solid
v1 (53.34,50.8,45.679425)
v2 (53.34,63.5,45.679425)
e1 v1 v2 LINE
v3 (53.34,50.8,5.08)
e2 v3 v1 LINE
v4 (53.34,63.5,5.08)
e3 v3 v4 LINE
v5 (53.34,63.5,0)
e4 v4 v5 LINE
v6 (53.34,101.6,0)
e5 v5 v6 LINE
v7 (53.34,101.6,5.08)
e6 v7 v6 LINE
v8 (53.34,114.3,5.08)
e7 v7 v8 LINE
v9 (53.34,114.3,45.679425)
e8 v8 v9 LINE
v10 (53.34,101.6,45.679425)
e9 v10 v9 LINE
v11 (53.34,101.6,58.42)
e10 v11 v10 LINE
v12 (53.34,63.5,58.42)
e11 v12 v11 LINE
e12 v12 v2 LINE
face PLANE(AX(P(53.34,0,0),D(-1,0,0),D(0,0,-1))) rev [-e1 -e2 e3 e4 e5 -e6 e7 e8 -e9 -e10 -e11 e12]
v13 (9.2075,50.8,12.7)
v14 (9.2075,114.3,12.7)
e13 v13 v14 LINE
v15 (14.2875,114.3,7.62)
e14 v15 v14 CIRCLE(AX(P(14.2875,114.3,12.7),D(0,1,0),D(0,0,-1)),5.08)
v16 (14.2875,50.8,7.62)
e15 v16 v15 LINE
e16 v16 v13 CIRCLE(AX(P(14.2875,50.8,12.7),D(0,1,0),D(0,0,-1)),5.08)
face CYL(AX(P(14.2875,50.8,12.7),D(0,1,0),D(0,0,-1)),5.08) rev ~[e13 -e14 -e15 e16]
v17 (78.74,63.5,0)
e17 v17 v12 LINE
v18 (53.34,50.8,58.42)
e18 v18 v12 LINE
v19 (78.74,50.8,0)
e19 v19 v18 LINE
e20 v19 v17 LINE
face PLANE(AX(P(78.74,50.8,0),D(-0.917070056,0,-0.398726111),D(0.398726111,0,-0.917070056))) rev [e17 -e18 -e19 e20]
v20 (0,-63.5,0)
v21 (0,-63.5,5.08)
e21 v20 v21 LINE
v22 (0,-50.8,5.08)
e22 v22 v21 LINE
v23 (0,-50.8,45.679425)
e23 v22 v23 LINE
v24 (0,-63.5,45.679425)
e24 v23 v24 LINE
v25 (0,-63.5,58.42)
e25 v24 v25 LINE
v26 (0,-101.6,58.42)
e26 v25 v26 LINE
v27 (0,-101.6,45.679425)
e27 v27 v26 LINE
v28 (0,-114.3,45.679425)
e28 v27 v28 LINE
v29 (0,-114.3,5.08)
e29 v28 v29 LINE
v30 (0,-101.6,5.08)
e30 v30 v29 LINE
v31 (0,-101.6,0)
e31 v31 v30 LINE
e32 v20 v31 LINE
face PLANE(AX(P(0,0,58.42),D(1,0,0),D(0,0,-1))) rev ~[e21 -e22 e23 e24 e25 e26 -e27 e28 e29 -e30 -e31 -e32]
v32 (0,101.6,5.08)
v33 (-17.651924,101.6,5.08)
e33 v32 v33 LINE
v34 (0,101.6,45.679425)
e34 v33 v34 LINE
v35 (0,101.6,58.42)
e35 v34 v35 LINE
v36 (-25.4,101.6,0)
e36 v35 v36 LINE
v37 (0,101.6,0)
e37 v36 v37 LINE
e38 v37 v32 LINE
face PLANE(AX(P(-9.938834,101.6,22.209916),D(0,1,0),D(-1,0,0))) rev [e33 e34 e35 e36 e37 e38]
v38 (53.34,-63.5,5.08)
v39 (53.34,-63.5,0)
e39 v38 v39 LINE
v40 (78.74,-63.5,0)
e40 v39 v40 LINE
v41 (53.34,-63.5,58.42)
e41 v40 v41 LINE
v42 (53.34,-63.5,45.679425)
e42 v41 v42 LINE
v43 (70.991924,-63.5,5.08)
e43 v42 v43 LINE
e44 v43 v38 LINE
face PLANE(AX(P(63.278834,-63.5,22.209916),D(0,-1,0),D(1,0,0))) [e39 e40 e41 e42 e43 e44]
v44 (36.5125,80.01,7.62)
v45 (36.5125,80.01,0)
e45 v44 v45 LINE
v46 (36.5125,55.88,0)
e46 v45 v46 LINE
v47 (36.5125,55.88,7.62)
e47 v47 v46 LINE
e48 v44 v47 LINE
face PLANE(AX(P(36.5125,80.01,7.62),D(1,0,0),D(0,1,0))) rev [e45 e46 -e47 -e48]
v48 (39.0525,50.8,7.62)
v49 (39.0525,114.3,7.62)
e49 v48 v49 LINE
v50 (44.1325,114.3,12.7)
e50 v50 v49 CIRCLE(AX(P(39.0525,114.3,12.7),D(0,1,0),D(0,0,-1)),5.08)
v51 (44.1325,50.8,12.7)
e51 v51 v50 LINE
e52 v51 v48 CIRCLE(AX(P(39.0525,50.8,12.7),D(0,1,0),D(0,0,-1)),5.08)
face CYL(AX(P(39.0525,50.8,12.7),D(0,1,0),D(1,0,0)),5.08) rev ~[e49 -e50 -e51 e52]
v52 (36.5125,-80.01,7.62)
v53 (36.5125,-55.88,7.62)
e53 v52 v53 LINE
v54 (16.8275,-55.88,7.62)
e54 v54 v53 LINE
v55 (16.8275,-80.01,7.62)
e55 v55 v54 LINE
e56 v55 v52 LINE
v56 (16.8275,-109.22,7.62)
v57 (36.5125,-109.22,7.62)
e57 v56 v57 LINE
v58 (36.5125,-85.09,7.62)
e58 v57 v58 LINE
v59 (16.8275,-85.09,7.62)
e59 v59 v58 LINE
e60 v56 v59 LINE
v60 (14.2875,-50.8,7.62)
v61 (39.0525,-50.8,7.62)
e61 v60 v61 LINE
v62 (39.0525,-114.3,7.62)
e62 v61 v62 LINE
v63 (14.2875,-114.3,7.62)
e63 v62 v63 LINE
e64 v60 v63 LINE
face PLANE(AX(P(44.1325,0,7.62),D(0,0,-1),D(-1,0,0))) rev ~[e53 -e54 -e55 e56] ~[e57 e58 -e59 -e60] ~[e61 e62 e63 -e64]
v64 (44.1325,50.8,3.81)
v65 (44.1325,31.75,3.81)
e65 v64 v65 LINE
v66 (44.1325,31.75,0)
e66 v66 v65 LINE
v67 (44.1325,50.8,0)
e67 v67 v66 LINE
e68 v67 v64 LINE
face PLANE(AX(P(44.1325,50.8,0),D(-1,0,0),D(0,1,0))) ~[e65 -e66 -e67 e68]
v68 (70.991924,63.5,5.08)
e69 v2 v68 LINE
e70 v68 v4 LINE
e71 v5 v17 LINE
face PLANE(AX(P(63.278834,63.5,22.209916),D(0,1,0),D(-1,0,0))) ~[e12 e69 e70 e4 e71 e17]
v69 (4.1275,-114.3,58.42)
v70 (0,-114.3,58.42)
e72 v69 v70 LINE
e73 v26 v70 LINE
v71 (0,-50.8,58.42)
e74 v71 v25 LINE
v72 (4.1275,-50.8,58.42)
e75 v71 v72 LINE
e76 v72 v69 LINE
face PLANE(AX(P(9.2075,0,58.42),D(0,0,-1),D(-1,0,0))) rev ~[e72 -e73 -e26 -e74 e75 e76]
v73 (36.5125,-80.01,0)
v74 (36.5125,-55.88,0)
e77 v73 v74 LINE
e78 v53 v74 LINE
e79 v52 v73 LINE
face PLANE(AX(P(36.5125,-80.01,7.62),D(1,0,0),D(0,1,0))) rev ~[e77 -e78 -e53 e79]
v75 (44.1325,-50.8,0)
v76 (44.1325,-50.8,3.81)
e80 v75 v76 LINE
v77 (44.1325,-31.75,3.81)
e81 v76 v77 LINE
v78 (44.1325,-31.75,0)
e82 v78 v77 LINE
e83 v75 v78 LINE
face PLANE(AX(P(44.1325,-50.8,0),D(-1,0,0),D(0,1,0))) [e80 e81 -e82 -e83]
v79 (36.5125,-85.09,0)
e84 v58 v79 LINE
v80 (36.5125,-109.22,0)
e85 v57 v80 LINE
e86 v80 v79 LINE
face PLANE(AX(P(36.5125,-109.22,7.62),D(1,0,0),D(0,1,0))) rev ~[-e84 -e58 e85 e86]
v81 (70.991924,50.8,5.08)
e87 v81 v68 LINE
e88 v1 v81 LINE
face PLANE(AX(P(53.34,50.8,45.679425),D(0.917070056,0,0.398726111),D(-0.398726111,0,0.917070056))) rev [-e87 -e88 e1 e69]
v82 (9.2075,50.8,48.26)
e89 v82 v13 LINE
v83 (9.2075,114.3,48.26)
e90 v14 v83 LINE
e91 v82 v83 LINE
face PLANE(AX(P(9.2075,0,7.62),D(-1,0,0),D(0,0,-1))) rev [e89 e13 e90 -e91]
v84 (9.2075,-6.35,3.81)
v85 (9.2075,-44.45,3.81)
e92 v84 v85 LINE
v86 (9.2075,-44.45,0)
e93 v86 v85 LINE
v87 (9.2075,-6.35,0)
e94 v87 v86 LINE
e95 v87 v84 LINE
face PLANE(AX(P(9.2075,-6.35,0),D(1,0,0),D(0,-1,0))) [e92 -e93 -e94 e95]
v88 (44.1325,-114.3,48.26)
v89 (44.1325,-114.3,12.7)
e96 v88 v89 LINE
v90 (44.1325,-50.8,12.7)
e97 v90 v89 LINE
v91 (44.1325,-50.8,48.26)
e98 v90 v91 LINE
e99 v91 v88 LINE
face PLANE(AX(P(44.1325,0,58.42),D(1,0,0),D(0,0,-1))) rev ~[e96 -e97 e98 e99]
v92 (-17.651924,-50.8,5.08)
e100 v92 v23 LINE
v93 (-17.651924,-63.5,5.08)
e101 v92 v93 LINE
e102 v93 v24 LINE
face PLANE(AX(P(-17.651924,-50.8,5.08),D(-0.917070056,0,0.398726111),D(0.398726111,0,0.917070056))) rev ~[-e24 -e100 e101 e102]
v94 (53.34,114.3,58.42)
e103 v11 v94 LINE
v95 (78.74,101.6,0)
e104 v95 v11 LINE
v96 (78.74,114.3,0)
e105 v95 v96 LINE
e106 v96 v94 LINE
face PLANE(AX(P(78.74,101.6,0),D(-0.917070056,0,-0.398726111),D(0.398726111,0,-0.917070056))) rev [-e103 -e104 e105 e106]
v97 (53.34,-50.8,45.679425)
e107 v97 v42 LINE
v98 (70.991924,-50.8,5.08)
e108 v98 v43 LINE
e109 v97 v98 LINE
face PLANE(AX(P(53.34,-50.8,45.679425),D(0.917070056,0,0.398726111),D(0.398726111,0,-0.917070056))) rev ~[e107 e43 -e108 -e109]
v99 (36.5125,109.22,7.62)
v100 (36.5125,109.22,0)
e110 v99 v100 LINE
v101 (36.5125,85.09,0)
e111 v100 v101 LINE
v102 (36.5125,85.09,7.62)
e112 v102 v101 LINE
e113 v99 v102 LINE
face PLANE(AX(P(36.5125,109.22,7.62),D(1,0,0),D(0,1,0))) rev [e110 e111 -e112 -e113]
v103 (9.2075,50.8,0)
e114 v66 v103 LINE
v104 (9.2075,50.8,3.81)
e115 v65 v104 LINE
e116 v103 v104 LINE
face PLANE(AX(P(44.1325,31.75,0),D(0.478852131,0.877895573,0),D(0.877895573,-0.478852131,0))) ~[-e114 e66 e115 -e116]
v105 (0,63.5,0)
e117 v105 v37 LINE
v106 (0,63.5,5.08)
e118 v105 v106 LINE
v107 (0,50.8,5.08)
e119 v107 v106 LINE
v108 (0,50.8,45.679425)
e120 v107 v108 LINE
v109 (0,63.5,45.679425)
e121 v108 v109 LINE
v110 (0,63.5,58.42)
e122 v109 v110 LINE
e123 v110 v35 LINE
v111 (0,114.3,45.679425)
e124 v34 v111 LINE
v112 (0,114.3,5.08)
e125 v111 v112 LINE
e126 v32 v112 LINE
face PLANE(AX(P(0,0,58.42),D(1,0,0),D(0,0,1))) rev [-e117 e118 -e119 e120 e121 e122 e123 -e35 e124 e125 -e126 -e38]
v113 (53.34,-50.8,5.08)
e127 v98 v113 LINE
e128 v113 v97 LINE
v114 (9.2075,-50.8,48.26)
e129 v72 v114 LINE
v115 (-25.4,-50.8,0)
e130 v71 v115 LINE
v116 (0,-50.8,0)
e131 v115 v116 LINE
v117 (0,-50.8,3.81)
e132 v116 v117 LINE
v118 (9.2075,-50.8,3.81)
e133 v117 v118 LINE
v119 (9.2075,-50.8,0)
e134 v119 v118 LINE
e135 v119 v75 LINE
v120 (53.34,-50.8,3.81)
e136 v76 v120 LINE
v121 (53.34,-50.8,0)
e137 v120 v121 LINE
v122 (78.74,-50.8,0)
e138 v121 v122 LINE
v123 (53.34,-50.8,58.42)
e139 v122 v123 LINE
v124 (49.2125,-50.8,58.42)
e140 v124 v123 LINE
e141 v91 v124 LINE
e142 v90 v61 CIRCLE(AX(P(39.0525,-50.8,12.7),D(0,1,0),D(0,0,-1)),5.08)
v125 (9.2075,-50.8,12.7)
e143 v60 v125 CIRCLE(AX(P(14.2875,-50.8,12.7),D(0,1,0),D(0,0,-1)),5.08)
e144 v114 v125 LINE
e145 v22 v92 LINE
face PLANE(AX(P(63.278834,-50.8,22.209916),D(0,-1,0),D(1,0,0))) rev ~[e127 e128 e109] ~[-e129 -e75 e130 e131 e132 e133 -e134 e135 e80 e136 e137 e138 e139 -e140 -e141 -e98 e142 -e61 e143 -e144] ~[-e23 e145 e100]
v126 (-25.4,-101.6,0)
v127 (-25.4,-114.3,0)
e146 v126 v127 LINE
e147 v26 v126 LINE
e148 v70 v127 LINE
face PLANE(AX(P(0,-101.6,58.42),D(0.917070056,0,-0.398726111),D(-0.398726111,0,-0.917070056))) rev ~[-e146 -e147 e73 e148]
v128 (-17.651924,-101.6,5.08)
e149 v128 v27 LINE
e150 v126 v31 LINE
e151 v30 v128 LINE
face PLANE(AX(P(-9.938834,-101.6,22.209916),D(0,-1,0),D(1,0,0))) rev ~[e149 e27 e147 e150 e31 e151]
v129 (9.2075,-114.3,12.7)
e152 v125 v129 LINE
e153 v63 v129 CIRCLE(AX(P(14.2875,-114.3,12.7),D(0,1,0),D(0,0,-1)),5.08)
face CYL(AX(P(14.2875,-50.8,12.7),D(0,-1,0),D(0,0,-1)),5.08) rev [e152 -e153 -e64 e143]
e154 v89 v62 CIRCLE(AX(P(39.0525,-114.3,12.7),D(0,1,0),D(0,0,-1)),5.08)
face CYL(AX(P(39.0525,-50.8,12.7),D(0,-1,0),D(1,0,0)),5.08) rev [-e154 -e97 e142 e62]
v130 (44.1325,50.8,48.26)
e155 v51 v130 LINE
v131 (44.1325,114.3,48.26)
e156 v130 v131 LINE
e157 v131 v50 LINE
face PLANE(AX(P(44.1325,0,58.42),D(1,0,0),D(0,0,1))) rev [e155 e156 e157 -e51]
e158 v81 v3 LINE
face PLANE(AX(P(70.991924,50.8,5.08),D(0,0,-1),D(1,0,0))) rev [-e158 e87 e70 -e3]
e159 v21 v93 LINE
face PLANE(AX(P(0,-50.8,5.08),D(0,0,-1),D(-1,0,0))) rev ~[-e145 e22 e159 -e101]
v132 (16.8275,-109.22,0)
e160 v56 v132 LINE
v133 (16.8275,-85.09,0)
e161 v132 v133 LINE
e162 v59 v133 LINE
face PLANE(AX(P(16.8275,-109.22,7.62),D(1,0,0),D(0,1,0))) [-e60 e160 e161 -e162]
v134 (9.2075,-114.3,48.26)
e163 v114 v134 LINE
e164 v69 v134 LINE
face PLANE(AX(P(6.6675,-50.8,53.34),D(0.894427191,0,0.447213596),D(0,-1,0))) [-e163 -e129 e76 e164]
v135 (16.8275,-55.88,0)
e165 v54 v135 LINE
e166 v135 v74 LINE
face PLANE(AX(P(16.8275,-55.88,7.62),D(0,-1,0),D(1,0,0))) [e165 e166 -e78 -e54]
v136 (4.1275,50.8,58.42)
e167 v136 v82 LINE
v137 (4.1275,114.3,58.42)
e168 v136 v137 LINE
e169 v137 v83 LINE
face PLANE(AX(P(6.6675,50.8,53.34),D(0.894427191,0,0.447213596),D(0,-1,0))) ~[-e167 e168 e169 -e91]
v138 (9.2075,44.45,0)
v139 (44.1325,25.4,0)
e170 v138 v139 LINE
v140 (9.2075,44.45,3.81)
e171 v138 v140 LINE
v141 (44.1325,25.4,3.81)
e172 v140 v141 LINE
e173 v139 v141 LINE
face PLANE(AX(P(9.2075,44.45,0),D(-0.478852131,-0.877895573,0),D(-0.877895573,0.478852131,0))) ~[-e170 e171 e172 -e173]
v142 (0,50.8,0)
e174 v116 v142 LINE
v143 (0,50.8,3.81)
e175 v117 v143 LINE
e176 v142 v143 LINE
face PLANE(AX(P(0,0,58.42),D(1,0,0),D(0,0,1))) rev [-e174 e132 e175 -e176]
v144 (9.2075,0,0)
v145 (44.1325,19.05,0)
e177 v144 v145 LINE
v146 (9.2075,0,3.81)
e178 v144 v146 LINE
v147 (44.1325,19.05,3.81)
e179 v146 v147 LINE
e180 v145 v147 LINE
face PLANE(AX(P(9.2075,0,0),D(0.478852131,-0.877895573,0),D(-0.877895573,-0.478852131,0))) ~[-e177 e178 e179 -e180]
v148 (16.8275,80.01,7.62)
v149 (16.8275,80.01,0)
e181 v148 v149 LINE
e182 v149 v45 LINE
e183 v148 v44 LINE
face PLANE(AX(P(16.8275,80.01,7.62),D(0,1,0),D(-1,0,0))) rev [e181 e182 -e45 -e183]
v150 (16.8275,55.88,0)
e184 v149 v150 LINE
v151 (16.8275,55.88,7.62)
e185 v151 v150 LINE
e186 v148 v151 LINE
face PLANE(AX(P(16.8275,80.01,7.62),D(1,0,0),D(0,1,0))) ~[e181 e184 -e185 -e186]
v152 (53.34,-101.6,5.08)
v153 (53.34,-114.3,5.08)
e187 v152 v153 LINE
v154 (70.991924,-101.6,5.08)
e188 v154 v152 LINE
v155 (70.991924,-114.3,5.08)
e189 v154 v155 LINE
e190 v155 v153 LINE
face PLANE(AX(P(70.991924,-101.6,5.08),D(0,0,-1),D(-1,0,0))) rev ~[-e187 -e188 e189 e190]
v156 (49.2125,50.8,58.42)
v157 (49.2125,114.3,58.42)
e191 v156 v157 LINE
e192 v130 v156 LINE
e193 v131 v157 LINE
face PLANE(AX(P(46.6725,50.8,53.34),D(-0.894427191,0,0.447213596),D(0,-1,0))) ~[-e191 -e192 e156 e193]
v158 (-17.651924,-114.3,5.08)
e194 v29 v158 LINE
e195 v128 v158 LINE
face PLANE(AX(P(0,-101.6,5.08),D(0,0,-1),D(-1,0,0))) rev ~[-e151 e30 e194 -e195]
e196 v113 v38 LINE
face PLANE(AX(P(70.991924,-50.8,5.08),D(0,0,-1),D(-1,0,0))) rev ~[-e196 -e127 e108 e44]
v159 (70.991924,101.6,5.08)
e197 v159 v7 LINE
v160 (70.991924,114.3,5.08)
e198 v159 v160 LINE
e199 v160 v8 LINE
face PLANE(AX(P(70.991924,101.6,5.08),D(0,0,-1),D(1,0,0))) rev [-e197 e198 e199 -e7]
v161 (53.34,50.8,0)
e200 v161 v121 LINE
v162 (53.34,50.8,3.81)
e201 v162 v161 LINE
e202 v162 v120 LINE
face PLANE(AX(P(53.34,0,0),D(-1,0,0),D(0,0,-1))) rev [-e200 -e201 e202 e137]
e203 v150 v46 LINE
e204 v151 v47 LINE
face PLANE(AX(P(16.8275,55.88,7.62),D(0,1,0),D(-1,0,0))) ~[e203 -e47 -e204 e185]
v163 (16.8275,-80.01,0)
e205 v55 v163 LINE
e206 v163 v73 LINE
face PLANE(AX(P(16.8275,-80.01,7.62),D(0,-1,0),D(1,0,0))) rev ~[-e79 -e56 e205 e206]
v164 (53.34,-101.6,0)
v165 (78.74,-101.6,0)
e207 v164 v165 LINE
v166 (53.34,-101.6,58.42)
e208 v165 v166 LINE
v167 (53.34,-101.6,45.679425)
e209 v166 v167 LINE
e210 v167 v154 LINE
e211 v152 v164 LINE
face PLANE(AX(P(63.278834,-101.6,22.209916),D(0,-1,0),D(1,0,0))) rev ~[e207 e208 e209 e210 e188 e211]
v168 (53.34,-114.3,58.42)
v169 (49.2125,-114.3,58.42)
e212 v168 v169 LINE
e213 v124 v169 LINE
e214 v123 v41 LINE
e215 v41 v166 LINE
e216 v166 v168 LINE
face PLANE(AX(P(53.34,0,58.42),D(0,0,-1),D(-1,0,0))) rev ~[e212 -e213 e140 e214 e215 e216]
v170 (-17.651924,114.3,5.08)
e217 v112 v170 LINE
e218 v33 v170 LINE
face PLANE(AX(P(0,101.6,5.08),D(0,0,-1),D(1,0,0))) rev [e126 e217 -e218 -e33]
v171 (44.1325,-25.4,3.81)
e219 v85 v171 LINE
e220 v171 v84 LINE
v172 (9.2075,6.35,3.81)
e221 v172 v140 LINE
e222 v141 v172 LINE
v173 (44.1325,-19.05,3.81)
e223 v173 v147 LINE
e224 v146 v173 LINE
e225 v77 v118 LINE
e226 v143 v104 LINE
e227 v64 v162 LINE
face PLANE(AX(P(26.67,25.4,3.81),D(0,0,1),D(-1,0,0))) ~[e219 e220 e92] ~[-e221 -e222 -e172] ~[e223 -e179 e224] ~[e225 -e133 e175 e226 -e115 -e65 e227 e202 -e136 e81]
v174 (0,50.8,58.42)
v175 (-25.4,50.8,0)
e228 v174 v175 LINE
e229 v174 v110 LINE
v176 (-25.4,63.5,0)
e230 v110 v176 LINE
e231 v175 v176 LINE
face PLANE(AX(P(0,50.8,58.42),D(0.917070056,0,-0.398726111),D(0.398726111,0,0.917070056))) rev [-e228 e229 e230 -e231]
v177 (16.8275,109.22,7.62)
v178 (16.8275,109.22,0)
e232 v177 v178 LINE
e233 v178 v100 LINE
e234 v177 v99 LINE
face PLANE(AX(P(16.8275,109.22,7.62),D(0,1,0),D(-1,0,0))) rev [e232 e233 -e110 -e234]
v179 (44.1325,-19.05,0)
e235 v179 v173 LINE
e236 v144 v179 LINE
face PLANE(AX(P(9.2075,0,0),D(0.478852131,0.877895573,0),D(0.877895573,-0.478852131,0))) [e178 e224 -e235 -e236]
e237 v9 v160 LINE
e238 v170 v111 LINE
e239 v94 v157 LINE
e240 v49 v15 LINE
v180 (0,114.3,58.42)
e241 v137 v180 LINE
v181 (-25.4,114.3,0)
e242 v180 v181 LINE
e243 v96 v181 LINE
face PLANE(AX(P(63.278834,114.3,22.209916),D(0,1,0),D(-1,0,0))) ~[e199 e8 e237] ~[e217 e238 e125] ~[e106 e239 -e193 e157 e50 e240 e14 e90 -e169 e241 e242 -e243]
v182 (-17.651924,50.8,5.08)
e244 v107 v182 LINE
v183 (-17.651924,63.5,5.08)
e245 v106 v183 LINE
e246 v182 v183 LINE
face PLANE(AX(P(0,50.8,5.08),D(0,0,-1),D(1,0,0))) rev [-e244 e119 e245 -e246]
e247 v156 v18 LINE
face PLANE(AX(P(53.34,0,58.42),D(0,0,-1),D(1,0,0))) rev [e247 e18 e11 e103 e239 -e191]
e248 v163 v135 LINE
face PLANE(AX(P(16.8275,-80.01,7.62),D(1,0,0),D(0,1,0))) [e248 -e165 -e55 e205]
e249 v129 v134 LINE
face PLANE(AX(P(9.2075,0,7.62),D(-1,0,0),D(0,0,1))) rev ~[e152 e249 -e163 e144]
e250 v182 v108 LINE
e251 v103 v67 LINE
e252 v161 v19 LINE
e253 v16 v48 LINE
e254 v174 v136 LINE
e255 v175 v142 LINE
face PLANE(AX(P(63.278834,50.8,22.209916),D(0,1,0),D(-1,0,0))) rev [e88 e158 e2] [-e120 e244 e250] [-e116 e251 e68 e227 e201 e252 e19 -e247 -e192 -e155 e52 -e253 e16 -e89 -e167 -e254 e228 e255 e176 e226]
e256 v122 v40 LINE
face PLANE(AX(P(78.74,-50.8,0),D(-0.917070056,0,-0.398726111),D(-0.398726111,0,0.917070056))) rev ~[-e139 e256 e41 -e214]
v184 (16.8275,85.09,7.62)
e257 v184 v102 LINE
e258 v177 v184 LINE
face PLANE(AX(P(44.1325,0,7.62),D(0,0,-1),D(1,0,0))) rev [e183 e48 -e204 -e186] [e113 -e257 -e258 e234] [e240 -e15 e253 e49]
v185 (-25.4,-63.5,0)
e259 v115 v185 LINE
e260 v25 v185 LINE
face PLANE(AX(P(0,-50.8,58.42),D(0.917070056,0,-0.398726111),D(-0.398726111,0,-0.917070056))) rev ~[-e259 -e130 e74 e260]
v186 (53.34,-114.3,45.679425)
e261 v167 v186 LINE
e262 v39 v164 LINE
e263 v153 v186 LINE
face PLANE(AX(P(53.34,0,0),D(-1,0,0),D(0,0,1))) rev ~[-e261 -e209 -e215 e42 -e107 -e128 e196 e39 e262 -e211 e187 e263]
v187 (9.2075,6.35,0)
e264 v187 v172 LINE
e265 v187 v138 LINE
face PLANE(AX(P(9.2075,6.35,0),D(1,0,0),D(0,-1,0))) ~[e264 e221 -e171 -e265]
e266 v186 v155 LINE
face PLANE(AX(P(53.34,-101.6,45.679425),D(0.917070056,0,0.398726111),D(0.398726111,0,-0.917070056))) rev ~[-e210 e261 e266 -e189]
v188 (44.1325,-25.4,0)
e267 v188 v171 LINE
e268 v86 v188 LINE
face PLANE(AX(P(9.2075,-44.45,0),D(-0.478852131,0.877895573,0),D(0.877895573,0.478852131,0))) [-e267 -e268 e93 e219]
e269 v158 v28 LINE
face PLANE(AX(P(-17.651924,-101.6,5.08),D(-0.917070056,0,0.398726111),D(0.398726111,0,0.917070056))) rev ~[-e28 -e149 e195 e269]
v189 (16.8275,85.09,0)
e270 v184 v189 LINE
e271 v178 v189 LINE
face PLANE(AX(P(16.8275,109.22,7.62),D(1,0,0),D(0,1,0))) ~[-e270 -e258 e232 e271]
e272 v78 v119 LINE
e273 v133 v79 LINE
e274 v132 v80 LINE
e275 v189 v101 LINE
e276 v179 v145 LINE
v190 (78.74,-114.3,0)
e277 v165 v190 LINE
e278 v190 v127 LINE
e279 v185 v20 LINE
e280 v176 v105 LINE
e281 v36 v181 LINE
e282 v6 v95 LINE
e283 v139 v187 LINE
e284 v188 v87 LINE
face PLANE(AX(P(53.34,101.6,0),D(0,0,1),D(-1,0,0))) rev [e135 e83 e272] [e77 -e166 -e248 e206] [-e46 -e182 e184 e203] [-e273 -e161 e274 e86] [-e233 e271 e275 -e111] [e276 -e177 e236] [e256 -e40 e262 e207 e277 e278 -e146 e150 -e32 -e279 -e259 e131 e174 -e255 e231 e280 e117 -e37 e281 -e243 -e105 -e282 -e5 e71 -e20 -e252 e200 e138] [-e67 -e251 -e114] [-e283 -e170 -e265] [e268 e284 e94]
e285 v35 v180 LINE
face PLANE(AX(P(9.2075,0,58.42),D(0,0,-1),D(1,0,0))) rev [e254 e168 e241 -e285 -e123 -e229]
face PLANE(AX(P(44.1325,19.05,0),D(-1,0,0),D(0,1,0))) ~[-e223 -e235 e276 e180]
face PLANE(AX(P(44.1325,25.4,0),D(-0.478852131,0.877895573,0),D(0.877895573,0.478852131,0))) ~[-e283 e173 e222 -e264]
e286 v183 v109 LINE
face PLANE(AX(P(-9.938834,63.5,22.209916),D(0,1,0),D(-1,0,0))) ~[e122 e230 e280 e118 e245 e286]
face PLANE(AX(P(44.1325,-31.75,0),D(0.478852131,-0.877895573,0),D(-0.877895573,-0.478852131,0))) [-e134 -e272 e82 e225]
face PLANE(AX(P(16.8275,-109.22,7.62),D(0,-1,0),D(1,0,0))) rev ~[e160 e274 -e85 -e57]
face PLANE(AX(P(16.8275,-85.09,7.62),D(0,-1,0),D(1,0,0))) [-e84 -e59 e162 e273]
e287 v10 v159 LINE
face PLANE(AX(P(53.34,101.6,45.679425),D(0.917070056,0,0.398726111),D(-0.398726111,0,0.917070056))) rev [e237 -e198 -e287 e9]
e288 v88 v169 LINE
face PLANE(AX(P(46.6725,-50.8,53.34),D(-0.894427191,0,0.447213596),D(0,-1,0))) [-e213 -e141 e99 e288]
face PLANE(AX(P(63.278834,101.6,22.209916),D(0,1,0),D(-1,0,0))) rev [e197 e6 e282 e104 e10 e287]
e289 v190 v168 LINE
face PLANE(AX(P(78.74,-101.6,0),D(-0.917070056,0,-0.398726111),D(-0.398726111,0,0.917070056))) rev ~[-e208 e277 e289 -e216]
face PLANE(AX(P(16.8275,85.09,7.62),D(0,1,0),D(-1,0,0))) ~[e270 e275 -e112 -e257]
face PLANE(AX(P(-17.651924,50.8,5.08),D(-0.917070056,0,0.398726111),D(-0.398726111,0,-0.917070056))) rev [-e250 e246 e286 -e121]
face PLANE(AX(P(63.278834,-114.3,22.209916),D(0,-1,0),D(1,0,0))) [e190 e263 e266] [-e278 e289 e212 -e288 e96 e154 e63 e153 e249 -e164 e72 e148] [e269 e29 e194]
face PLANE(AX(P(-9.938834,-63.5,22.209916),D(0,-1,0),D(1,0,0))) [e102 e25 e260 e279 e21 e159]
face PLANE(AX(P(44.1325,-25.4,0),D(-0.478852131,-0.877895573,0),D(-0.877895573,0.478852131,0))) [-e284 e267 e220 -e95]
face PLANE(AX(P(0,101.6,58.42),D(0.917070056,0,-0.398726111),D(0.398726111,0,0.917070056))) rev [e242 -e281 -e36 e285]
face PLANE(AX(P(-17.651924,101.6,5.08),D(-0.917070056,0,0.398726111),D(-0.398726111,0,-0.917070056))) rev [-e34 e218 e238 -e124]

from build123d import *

# Parameters (mm, degrees)
F1_DEPTH  = 114.3
F3_START  = 101.6
F3_DEPTH  = 12.7
F4_START  = 50.8
F4_DEPTH  = 12.7
F6_START  = 3.81
F5_W      = 53.34
F5_H      = 50.8
F6_DEPTH  = 54.61
F8_DEPTH  = 3.81
F9_R      = 5.08
F10_SIZE2 = 10.16
F10_SIZE  = 5.08
F11_SIZE2 = 5.08
F11_SIZE  = 10.16
F12_W     = 19.685
F12_H     = 24.13
F13_DEPTH = 7.62


with BuildPart() as f1:
    # F0 (on Front) → F1 (new body)
    with BuildSketch(Plane.XZ):
        Polygon((0, 58.42), (0, 0), (53.34, 0), (53.34, 58.42), (44.1325, 58.42), (44.1325, 7.62), (26.67, 7.62), (9.2075, 7.62), (9.2075, 58.42), align=None)
    extrude(amount=F1_DEPTH)

    # F2 (on Front) → F3 (join)
    with BuildSketch(Plane.XZ.offset(F3_START)):
        Polygon((78.74, 0), (53.34, 58.42), (53.34, 45.6794248168), (70.9919238334, 5.08), (53.34, 5.08), (53.34, 0), align=None)
        Polygon((-25.4, 0), (0, 0), (0, 5.08), (-17.6519238334, 5.08), (0, 45.6794248168), (0, 58.42), align=None)
    extrude(amount=F3_DEPTH)

    # F2 (on Front) → F4 (join)
    with BuildSketch(Plane.XZ.offset(F4_START)):
        Polygon((78.74, 0), (53.34, 58.42), (53.34, 45.6794248168), (70.9919238334, 5.08), (53.34, 5.08), (53.34, 0), align=None)
        Polygon((-25.4, 0), (0, 0), (0, 5.08), (-17.6519238334, 5.08), (0, 45.6794248168), (0, 58.42), align=None)
    extrude(amount=F4_DEPTH)

    # F5 (on Top) → F6 (cut)
    with BuildSketch(Plane.XY.offset(F6_START)):
        with Locations((26.67, -25.4)):
            Rectangle(F5_W, F5_H)
    extrude(amount=F6_DEPTH, mode=Mode.SUBTRACT)

    # F7 (on face) → F8 (cut, through all)
    with BuildSketch(Plane.XY):
        Polygon((44.1325, -31.75), (9.2075, -50.8), (44.1325, -50.8), align=None)
        Polygon((44.1325, -25.4), (9.2075, -6.35), (9.2075, -44.45), align=None)
        Polygon((44.1325, 0), (9.2075, 0), (44.1325, -19.05), align=None)
    extrude(amount=F8_DEPTH, mode=Mode.SUBTRACT)

    # F9
    f9_edges = [f1.edges().sort_by_distance(p)[0] for p in [
        (9.2075, -82.55, 7.62),
        (44.1325, -82.55, 7.62),
    ]]
    fillet(f9_edges, radius=F9_R)

    # F10
    f10_edges = [f1.edges().sort_by_distance(p)[0] for p in [
        (9.2075, -82.55, 58.42),
    ]]
    f10_side = f1.faces().sort_by_distance((4.60375, -82.55, 58.42))[0]
    chamfer(f10_edges, length=F10_SIZE, length2=F10_SIZE2, reference=f10_side)

    # F11
    f11_edges = [f1.edges().sort_by_distance(p)[0] for p in [
        (44.1325, -82.55, 58.42),
    ]]
    f11_side = f1.faces().sort_by_distance((44.1325, -82.55, 35.56))[0]
    chamfer(f11_edges, length=F11_SIZE, length2=F11_SIZE2, reference=f11_side)

    # F12 (on face) → F13 (cut, through all)
    with BuildSketch(Plane.XY.offset(7.62)):
        with Locations((26.67, -67.945)):
            Rectangle(F12_W, F12_H)
        with Locations((26.67, -97.155)):
            Rectangle(F12_W, F12_H)
    extrude(amount=-F13_DEPTH, mode=Mode.SUBTRACT)

    # F14: F1 across plane


with BuildPart() as f1_1:
    add(f1.part)
    add(f1.part.mirror(Plane.XZ))


solid = f1_1.part
